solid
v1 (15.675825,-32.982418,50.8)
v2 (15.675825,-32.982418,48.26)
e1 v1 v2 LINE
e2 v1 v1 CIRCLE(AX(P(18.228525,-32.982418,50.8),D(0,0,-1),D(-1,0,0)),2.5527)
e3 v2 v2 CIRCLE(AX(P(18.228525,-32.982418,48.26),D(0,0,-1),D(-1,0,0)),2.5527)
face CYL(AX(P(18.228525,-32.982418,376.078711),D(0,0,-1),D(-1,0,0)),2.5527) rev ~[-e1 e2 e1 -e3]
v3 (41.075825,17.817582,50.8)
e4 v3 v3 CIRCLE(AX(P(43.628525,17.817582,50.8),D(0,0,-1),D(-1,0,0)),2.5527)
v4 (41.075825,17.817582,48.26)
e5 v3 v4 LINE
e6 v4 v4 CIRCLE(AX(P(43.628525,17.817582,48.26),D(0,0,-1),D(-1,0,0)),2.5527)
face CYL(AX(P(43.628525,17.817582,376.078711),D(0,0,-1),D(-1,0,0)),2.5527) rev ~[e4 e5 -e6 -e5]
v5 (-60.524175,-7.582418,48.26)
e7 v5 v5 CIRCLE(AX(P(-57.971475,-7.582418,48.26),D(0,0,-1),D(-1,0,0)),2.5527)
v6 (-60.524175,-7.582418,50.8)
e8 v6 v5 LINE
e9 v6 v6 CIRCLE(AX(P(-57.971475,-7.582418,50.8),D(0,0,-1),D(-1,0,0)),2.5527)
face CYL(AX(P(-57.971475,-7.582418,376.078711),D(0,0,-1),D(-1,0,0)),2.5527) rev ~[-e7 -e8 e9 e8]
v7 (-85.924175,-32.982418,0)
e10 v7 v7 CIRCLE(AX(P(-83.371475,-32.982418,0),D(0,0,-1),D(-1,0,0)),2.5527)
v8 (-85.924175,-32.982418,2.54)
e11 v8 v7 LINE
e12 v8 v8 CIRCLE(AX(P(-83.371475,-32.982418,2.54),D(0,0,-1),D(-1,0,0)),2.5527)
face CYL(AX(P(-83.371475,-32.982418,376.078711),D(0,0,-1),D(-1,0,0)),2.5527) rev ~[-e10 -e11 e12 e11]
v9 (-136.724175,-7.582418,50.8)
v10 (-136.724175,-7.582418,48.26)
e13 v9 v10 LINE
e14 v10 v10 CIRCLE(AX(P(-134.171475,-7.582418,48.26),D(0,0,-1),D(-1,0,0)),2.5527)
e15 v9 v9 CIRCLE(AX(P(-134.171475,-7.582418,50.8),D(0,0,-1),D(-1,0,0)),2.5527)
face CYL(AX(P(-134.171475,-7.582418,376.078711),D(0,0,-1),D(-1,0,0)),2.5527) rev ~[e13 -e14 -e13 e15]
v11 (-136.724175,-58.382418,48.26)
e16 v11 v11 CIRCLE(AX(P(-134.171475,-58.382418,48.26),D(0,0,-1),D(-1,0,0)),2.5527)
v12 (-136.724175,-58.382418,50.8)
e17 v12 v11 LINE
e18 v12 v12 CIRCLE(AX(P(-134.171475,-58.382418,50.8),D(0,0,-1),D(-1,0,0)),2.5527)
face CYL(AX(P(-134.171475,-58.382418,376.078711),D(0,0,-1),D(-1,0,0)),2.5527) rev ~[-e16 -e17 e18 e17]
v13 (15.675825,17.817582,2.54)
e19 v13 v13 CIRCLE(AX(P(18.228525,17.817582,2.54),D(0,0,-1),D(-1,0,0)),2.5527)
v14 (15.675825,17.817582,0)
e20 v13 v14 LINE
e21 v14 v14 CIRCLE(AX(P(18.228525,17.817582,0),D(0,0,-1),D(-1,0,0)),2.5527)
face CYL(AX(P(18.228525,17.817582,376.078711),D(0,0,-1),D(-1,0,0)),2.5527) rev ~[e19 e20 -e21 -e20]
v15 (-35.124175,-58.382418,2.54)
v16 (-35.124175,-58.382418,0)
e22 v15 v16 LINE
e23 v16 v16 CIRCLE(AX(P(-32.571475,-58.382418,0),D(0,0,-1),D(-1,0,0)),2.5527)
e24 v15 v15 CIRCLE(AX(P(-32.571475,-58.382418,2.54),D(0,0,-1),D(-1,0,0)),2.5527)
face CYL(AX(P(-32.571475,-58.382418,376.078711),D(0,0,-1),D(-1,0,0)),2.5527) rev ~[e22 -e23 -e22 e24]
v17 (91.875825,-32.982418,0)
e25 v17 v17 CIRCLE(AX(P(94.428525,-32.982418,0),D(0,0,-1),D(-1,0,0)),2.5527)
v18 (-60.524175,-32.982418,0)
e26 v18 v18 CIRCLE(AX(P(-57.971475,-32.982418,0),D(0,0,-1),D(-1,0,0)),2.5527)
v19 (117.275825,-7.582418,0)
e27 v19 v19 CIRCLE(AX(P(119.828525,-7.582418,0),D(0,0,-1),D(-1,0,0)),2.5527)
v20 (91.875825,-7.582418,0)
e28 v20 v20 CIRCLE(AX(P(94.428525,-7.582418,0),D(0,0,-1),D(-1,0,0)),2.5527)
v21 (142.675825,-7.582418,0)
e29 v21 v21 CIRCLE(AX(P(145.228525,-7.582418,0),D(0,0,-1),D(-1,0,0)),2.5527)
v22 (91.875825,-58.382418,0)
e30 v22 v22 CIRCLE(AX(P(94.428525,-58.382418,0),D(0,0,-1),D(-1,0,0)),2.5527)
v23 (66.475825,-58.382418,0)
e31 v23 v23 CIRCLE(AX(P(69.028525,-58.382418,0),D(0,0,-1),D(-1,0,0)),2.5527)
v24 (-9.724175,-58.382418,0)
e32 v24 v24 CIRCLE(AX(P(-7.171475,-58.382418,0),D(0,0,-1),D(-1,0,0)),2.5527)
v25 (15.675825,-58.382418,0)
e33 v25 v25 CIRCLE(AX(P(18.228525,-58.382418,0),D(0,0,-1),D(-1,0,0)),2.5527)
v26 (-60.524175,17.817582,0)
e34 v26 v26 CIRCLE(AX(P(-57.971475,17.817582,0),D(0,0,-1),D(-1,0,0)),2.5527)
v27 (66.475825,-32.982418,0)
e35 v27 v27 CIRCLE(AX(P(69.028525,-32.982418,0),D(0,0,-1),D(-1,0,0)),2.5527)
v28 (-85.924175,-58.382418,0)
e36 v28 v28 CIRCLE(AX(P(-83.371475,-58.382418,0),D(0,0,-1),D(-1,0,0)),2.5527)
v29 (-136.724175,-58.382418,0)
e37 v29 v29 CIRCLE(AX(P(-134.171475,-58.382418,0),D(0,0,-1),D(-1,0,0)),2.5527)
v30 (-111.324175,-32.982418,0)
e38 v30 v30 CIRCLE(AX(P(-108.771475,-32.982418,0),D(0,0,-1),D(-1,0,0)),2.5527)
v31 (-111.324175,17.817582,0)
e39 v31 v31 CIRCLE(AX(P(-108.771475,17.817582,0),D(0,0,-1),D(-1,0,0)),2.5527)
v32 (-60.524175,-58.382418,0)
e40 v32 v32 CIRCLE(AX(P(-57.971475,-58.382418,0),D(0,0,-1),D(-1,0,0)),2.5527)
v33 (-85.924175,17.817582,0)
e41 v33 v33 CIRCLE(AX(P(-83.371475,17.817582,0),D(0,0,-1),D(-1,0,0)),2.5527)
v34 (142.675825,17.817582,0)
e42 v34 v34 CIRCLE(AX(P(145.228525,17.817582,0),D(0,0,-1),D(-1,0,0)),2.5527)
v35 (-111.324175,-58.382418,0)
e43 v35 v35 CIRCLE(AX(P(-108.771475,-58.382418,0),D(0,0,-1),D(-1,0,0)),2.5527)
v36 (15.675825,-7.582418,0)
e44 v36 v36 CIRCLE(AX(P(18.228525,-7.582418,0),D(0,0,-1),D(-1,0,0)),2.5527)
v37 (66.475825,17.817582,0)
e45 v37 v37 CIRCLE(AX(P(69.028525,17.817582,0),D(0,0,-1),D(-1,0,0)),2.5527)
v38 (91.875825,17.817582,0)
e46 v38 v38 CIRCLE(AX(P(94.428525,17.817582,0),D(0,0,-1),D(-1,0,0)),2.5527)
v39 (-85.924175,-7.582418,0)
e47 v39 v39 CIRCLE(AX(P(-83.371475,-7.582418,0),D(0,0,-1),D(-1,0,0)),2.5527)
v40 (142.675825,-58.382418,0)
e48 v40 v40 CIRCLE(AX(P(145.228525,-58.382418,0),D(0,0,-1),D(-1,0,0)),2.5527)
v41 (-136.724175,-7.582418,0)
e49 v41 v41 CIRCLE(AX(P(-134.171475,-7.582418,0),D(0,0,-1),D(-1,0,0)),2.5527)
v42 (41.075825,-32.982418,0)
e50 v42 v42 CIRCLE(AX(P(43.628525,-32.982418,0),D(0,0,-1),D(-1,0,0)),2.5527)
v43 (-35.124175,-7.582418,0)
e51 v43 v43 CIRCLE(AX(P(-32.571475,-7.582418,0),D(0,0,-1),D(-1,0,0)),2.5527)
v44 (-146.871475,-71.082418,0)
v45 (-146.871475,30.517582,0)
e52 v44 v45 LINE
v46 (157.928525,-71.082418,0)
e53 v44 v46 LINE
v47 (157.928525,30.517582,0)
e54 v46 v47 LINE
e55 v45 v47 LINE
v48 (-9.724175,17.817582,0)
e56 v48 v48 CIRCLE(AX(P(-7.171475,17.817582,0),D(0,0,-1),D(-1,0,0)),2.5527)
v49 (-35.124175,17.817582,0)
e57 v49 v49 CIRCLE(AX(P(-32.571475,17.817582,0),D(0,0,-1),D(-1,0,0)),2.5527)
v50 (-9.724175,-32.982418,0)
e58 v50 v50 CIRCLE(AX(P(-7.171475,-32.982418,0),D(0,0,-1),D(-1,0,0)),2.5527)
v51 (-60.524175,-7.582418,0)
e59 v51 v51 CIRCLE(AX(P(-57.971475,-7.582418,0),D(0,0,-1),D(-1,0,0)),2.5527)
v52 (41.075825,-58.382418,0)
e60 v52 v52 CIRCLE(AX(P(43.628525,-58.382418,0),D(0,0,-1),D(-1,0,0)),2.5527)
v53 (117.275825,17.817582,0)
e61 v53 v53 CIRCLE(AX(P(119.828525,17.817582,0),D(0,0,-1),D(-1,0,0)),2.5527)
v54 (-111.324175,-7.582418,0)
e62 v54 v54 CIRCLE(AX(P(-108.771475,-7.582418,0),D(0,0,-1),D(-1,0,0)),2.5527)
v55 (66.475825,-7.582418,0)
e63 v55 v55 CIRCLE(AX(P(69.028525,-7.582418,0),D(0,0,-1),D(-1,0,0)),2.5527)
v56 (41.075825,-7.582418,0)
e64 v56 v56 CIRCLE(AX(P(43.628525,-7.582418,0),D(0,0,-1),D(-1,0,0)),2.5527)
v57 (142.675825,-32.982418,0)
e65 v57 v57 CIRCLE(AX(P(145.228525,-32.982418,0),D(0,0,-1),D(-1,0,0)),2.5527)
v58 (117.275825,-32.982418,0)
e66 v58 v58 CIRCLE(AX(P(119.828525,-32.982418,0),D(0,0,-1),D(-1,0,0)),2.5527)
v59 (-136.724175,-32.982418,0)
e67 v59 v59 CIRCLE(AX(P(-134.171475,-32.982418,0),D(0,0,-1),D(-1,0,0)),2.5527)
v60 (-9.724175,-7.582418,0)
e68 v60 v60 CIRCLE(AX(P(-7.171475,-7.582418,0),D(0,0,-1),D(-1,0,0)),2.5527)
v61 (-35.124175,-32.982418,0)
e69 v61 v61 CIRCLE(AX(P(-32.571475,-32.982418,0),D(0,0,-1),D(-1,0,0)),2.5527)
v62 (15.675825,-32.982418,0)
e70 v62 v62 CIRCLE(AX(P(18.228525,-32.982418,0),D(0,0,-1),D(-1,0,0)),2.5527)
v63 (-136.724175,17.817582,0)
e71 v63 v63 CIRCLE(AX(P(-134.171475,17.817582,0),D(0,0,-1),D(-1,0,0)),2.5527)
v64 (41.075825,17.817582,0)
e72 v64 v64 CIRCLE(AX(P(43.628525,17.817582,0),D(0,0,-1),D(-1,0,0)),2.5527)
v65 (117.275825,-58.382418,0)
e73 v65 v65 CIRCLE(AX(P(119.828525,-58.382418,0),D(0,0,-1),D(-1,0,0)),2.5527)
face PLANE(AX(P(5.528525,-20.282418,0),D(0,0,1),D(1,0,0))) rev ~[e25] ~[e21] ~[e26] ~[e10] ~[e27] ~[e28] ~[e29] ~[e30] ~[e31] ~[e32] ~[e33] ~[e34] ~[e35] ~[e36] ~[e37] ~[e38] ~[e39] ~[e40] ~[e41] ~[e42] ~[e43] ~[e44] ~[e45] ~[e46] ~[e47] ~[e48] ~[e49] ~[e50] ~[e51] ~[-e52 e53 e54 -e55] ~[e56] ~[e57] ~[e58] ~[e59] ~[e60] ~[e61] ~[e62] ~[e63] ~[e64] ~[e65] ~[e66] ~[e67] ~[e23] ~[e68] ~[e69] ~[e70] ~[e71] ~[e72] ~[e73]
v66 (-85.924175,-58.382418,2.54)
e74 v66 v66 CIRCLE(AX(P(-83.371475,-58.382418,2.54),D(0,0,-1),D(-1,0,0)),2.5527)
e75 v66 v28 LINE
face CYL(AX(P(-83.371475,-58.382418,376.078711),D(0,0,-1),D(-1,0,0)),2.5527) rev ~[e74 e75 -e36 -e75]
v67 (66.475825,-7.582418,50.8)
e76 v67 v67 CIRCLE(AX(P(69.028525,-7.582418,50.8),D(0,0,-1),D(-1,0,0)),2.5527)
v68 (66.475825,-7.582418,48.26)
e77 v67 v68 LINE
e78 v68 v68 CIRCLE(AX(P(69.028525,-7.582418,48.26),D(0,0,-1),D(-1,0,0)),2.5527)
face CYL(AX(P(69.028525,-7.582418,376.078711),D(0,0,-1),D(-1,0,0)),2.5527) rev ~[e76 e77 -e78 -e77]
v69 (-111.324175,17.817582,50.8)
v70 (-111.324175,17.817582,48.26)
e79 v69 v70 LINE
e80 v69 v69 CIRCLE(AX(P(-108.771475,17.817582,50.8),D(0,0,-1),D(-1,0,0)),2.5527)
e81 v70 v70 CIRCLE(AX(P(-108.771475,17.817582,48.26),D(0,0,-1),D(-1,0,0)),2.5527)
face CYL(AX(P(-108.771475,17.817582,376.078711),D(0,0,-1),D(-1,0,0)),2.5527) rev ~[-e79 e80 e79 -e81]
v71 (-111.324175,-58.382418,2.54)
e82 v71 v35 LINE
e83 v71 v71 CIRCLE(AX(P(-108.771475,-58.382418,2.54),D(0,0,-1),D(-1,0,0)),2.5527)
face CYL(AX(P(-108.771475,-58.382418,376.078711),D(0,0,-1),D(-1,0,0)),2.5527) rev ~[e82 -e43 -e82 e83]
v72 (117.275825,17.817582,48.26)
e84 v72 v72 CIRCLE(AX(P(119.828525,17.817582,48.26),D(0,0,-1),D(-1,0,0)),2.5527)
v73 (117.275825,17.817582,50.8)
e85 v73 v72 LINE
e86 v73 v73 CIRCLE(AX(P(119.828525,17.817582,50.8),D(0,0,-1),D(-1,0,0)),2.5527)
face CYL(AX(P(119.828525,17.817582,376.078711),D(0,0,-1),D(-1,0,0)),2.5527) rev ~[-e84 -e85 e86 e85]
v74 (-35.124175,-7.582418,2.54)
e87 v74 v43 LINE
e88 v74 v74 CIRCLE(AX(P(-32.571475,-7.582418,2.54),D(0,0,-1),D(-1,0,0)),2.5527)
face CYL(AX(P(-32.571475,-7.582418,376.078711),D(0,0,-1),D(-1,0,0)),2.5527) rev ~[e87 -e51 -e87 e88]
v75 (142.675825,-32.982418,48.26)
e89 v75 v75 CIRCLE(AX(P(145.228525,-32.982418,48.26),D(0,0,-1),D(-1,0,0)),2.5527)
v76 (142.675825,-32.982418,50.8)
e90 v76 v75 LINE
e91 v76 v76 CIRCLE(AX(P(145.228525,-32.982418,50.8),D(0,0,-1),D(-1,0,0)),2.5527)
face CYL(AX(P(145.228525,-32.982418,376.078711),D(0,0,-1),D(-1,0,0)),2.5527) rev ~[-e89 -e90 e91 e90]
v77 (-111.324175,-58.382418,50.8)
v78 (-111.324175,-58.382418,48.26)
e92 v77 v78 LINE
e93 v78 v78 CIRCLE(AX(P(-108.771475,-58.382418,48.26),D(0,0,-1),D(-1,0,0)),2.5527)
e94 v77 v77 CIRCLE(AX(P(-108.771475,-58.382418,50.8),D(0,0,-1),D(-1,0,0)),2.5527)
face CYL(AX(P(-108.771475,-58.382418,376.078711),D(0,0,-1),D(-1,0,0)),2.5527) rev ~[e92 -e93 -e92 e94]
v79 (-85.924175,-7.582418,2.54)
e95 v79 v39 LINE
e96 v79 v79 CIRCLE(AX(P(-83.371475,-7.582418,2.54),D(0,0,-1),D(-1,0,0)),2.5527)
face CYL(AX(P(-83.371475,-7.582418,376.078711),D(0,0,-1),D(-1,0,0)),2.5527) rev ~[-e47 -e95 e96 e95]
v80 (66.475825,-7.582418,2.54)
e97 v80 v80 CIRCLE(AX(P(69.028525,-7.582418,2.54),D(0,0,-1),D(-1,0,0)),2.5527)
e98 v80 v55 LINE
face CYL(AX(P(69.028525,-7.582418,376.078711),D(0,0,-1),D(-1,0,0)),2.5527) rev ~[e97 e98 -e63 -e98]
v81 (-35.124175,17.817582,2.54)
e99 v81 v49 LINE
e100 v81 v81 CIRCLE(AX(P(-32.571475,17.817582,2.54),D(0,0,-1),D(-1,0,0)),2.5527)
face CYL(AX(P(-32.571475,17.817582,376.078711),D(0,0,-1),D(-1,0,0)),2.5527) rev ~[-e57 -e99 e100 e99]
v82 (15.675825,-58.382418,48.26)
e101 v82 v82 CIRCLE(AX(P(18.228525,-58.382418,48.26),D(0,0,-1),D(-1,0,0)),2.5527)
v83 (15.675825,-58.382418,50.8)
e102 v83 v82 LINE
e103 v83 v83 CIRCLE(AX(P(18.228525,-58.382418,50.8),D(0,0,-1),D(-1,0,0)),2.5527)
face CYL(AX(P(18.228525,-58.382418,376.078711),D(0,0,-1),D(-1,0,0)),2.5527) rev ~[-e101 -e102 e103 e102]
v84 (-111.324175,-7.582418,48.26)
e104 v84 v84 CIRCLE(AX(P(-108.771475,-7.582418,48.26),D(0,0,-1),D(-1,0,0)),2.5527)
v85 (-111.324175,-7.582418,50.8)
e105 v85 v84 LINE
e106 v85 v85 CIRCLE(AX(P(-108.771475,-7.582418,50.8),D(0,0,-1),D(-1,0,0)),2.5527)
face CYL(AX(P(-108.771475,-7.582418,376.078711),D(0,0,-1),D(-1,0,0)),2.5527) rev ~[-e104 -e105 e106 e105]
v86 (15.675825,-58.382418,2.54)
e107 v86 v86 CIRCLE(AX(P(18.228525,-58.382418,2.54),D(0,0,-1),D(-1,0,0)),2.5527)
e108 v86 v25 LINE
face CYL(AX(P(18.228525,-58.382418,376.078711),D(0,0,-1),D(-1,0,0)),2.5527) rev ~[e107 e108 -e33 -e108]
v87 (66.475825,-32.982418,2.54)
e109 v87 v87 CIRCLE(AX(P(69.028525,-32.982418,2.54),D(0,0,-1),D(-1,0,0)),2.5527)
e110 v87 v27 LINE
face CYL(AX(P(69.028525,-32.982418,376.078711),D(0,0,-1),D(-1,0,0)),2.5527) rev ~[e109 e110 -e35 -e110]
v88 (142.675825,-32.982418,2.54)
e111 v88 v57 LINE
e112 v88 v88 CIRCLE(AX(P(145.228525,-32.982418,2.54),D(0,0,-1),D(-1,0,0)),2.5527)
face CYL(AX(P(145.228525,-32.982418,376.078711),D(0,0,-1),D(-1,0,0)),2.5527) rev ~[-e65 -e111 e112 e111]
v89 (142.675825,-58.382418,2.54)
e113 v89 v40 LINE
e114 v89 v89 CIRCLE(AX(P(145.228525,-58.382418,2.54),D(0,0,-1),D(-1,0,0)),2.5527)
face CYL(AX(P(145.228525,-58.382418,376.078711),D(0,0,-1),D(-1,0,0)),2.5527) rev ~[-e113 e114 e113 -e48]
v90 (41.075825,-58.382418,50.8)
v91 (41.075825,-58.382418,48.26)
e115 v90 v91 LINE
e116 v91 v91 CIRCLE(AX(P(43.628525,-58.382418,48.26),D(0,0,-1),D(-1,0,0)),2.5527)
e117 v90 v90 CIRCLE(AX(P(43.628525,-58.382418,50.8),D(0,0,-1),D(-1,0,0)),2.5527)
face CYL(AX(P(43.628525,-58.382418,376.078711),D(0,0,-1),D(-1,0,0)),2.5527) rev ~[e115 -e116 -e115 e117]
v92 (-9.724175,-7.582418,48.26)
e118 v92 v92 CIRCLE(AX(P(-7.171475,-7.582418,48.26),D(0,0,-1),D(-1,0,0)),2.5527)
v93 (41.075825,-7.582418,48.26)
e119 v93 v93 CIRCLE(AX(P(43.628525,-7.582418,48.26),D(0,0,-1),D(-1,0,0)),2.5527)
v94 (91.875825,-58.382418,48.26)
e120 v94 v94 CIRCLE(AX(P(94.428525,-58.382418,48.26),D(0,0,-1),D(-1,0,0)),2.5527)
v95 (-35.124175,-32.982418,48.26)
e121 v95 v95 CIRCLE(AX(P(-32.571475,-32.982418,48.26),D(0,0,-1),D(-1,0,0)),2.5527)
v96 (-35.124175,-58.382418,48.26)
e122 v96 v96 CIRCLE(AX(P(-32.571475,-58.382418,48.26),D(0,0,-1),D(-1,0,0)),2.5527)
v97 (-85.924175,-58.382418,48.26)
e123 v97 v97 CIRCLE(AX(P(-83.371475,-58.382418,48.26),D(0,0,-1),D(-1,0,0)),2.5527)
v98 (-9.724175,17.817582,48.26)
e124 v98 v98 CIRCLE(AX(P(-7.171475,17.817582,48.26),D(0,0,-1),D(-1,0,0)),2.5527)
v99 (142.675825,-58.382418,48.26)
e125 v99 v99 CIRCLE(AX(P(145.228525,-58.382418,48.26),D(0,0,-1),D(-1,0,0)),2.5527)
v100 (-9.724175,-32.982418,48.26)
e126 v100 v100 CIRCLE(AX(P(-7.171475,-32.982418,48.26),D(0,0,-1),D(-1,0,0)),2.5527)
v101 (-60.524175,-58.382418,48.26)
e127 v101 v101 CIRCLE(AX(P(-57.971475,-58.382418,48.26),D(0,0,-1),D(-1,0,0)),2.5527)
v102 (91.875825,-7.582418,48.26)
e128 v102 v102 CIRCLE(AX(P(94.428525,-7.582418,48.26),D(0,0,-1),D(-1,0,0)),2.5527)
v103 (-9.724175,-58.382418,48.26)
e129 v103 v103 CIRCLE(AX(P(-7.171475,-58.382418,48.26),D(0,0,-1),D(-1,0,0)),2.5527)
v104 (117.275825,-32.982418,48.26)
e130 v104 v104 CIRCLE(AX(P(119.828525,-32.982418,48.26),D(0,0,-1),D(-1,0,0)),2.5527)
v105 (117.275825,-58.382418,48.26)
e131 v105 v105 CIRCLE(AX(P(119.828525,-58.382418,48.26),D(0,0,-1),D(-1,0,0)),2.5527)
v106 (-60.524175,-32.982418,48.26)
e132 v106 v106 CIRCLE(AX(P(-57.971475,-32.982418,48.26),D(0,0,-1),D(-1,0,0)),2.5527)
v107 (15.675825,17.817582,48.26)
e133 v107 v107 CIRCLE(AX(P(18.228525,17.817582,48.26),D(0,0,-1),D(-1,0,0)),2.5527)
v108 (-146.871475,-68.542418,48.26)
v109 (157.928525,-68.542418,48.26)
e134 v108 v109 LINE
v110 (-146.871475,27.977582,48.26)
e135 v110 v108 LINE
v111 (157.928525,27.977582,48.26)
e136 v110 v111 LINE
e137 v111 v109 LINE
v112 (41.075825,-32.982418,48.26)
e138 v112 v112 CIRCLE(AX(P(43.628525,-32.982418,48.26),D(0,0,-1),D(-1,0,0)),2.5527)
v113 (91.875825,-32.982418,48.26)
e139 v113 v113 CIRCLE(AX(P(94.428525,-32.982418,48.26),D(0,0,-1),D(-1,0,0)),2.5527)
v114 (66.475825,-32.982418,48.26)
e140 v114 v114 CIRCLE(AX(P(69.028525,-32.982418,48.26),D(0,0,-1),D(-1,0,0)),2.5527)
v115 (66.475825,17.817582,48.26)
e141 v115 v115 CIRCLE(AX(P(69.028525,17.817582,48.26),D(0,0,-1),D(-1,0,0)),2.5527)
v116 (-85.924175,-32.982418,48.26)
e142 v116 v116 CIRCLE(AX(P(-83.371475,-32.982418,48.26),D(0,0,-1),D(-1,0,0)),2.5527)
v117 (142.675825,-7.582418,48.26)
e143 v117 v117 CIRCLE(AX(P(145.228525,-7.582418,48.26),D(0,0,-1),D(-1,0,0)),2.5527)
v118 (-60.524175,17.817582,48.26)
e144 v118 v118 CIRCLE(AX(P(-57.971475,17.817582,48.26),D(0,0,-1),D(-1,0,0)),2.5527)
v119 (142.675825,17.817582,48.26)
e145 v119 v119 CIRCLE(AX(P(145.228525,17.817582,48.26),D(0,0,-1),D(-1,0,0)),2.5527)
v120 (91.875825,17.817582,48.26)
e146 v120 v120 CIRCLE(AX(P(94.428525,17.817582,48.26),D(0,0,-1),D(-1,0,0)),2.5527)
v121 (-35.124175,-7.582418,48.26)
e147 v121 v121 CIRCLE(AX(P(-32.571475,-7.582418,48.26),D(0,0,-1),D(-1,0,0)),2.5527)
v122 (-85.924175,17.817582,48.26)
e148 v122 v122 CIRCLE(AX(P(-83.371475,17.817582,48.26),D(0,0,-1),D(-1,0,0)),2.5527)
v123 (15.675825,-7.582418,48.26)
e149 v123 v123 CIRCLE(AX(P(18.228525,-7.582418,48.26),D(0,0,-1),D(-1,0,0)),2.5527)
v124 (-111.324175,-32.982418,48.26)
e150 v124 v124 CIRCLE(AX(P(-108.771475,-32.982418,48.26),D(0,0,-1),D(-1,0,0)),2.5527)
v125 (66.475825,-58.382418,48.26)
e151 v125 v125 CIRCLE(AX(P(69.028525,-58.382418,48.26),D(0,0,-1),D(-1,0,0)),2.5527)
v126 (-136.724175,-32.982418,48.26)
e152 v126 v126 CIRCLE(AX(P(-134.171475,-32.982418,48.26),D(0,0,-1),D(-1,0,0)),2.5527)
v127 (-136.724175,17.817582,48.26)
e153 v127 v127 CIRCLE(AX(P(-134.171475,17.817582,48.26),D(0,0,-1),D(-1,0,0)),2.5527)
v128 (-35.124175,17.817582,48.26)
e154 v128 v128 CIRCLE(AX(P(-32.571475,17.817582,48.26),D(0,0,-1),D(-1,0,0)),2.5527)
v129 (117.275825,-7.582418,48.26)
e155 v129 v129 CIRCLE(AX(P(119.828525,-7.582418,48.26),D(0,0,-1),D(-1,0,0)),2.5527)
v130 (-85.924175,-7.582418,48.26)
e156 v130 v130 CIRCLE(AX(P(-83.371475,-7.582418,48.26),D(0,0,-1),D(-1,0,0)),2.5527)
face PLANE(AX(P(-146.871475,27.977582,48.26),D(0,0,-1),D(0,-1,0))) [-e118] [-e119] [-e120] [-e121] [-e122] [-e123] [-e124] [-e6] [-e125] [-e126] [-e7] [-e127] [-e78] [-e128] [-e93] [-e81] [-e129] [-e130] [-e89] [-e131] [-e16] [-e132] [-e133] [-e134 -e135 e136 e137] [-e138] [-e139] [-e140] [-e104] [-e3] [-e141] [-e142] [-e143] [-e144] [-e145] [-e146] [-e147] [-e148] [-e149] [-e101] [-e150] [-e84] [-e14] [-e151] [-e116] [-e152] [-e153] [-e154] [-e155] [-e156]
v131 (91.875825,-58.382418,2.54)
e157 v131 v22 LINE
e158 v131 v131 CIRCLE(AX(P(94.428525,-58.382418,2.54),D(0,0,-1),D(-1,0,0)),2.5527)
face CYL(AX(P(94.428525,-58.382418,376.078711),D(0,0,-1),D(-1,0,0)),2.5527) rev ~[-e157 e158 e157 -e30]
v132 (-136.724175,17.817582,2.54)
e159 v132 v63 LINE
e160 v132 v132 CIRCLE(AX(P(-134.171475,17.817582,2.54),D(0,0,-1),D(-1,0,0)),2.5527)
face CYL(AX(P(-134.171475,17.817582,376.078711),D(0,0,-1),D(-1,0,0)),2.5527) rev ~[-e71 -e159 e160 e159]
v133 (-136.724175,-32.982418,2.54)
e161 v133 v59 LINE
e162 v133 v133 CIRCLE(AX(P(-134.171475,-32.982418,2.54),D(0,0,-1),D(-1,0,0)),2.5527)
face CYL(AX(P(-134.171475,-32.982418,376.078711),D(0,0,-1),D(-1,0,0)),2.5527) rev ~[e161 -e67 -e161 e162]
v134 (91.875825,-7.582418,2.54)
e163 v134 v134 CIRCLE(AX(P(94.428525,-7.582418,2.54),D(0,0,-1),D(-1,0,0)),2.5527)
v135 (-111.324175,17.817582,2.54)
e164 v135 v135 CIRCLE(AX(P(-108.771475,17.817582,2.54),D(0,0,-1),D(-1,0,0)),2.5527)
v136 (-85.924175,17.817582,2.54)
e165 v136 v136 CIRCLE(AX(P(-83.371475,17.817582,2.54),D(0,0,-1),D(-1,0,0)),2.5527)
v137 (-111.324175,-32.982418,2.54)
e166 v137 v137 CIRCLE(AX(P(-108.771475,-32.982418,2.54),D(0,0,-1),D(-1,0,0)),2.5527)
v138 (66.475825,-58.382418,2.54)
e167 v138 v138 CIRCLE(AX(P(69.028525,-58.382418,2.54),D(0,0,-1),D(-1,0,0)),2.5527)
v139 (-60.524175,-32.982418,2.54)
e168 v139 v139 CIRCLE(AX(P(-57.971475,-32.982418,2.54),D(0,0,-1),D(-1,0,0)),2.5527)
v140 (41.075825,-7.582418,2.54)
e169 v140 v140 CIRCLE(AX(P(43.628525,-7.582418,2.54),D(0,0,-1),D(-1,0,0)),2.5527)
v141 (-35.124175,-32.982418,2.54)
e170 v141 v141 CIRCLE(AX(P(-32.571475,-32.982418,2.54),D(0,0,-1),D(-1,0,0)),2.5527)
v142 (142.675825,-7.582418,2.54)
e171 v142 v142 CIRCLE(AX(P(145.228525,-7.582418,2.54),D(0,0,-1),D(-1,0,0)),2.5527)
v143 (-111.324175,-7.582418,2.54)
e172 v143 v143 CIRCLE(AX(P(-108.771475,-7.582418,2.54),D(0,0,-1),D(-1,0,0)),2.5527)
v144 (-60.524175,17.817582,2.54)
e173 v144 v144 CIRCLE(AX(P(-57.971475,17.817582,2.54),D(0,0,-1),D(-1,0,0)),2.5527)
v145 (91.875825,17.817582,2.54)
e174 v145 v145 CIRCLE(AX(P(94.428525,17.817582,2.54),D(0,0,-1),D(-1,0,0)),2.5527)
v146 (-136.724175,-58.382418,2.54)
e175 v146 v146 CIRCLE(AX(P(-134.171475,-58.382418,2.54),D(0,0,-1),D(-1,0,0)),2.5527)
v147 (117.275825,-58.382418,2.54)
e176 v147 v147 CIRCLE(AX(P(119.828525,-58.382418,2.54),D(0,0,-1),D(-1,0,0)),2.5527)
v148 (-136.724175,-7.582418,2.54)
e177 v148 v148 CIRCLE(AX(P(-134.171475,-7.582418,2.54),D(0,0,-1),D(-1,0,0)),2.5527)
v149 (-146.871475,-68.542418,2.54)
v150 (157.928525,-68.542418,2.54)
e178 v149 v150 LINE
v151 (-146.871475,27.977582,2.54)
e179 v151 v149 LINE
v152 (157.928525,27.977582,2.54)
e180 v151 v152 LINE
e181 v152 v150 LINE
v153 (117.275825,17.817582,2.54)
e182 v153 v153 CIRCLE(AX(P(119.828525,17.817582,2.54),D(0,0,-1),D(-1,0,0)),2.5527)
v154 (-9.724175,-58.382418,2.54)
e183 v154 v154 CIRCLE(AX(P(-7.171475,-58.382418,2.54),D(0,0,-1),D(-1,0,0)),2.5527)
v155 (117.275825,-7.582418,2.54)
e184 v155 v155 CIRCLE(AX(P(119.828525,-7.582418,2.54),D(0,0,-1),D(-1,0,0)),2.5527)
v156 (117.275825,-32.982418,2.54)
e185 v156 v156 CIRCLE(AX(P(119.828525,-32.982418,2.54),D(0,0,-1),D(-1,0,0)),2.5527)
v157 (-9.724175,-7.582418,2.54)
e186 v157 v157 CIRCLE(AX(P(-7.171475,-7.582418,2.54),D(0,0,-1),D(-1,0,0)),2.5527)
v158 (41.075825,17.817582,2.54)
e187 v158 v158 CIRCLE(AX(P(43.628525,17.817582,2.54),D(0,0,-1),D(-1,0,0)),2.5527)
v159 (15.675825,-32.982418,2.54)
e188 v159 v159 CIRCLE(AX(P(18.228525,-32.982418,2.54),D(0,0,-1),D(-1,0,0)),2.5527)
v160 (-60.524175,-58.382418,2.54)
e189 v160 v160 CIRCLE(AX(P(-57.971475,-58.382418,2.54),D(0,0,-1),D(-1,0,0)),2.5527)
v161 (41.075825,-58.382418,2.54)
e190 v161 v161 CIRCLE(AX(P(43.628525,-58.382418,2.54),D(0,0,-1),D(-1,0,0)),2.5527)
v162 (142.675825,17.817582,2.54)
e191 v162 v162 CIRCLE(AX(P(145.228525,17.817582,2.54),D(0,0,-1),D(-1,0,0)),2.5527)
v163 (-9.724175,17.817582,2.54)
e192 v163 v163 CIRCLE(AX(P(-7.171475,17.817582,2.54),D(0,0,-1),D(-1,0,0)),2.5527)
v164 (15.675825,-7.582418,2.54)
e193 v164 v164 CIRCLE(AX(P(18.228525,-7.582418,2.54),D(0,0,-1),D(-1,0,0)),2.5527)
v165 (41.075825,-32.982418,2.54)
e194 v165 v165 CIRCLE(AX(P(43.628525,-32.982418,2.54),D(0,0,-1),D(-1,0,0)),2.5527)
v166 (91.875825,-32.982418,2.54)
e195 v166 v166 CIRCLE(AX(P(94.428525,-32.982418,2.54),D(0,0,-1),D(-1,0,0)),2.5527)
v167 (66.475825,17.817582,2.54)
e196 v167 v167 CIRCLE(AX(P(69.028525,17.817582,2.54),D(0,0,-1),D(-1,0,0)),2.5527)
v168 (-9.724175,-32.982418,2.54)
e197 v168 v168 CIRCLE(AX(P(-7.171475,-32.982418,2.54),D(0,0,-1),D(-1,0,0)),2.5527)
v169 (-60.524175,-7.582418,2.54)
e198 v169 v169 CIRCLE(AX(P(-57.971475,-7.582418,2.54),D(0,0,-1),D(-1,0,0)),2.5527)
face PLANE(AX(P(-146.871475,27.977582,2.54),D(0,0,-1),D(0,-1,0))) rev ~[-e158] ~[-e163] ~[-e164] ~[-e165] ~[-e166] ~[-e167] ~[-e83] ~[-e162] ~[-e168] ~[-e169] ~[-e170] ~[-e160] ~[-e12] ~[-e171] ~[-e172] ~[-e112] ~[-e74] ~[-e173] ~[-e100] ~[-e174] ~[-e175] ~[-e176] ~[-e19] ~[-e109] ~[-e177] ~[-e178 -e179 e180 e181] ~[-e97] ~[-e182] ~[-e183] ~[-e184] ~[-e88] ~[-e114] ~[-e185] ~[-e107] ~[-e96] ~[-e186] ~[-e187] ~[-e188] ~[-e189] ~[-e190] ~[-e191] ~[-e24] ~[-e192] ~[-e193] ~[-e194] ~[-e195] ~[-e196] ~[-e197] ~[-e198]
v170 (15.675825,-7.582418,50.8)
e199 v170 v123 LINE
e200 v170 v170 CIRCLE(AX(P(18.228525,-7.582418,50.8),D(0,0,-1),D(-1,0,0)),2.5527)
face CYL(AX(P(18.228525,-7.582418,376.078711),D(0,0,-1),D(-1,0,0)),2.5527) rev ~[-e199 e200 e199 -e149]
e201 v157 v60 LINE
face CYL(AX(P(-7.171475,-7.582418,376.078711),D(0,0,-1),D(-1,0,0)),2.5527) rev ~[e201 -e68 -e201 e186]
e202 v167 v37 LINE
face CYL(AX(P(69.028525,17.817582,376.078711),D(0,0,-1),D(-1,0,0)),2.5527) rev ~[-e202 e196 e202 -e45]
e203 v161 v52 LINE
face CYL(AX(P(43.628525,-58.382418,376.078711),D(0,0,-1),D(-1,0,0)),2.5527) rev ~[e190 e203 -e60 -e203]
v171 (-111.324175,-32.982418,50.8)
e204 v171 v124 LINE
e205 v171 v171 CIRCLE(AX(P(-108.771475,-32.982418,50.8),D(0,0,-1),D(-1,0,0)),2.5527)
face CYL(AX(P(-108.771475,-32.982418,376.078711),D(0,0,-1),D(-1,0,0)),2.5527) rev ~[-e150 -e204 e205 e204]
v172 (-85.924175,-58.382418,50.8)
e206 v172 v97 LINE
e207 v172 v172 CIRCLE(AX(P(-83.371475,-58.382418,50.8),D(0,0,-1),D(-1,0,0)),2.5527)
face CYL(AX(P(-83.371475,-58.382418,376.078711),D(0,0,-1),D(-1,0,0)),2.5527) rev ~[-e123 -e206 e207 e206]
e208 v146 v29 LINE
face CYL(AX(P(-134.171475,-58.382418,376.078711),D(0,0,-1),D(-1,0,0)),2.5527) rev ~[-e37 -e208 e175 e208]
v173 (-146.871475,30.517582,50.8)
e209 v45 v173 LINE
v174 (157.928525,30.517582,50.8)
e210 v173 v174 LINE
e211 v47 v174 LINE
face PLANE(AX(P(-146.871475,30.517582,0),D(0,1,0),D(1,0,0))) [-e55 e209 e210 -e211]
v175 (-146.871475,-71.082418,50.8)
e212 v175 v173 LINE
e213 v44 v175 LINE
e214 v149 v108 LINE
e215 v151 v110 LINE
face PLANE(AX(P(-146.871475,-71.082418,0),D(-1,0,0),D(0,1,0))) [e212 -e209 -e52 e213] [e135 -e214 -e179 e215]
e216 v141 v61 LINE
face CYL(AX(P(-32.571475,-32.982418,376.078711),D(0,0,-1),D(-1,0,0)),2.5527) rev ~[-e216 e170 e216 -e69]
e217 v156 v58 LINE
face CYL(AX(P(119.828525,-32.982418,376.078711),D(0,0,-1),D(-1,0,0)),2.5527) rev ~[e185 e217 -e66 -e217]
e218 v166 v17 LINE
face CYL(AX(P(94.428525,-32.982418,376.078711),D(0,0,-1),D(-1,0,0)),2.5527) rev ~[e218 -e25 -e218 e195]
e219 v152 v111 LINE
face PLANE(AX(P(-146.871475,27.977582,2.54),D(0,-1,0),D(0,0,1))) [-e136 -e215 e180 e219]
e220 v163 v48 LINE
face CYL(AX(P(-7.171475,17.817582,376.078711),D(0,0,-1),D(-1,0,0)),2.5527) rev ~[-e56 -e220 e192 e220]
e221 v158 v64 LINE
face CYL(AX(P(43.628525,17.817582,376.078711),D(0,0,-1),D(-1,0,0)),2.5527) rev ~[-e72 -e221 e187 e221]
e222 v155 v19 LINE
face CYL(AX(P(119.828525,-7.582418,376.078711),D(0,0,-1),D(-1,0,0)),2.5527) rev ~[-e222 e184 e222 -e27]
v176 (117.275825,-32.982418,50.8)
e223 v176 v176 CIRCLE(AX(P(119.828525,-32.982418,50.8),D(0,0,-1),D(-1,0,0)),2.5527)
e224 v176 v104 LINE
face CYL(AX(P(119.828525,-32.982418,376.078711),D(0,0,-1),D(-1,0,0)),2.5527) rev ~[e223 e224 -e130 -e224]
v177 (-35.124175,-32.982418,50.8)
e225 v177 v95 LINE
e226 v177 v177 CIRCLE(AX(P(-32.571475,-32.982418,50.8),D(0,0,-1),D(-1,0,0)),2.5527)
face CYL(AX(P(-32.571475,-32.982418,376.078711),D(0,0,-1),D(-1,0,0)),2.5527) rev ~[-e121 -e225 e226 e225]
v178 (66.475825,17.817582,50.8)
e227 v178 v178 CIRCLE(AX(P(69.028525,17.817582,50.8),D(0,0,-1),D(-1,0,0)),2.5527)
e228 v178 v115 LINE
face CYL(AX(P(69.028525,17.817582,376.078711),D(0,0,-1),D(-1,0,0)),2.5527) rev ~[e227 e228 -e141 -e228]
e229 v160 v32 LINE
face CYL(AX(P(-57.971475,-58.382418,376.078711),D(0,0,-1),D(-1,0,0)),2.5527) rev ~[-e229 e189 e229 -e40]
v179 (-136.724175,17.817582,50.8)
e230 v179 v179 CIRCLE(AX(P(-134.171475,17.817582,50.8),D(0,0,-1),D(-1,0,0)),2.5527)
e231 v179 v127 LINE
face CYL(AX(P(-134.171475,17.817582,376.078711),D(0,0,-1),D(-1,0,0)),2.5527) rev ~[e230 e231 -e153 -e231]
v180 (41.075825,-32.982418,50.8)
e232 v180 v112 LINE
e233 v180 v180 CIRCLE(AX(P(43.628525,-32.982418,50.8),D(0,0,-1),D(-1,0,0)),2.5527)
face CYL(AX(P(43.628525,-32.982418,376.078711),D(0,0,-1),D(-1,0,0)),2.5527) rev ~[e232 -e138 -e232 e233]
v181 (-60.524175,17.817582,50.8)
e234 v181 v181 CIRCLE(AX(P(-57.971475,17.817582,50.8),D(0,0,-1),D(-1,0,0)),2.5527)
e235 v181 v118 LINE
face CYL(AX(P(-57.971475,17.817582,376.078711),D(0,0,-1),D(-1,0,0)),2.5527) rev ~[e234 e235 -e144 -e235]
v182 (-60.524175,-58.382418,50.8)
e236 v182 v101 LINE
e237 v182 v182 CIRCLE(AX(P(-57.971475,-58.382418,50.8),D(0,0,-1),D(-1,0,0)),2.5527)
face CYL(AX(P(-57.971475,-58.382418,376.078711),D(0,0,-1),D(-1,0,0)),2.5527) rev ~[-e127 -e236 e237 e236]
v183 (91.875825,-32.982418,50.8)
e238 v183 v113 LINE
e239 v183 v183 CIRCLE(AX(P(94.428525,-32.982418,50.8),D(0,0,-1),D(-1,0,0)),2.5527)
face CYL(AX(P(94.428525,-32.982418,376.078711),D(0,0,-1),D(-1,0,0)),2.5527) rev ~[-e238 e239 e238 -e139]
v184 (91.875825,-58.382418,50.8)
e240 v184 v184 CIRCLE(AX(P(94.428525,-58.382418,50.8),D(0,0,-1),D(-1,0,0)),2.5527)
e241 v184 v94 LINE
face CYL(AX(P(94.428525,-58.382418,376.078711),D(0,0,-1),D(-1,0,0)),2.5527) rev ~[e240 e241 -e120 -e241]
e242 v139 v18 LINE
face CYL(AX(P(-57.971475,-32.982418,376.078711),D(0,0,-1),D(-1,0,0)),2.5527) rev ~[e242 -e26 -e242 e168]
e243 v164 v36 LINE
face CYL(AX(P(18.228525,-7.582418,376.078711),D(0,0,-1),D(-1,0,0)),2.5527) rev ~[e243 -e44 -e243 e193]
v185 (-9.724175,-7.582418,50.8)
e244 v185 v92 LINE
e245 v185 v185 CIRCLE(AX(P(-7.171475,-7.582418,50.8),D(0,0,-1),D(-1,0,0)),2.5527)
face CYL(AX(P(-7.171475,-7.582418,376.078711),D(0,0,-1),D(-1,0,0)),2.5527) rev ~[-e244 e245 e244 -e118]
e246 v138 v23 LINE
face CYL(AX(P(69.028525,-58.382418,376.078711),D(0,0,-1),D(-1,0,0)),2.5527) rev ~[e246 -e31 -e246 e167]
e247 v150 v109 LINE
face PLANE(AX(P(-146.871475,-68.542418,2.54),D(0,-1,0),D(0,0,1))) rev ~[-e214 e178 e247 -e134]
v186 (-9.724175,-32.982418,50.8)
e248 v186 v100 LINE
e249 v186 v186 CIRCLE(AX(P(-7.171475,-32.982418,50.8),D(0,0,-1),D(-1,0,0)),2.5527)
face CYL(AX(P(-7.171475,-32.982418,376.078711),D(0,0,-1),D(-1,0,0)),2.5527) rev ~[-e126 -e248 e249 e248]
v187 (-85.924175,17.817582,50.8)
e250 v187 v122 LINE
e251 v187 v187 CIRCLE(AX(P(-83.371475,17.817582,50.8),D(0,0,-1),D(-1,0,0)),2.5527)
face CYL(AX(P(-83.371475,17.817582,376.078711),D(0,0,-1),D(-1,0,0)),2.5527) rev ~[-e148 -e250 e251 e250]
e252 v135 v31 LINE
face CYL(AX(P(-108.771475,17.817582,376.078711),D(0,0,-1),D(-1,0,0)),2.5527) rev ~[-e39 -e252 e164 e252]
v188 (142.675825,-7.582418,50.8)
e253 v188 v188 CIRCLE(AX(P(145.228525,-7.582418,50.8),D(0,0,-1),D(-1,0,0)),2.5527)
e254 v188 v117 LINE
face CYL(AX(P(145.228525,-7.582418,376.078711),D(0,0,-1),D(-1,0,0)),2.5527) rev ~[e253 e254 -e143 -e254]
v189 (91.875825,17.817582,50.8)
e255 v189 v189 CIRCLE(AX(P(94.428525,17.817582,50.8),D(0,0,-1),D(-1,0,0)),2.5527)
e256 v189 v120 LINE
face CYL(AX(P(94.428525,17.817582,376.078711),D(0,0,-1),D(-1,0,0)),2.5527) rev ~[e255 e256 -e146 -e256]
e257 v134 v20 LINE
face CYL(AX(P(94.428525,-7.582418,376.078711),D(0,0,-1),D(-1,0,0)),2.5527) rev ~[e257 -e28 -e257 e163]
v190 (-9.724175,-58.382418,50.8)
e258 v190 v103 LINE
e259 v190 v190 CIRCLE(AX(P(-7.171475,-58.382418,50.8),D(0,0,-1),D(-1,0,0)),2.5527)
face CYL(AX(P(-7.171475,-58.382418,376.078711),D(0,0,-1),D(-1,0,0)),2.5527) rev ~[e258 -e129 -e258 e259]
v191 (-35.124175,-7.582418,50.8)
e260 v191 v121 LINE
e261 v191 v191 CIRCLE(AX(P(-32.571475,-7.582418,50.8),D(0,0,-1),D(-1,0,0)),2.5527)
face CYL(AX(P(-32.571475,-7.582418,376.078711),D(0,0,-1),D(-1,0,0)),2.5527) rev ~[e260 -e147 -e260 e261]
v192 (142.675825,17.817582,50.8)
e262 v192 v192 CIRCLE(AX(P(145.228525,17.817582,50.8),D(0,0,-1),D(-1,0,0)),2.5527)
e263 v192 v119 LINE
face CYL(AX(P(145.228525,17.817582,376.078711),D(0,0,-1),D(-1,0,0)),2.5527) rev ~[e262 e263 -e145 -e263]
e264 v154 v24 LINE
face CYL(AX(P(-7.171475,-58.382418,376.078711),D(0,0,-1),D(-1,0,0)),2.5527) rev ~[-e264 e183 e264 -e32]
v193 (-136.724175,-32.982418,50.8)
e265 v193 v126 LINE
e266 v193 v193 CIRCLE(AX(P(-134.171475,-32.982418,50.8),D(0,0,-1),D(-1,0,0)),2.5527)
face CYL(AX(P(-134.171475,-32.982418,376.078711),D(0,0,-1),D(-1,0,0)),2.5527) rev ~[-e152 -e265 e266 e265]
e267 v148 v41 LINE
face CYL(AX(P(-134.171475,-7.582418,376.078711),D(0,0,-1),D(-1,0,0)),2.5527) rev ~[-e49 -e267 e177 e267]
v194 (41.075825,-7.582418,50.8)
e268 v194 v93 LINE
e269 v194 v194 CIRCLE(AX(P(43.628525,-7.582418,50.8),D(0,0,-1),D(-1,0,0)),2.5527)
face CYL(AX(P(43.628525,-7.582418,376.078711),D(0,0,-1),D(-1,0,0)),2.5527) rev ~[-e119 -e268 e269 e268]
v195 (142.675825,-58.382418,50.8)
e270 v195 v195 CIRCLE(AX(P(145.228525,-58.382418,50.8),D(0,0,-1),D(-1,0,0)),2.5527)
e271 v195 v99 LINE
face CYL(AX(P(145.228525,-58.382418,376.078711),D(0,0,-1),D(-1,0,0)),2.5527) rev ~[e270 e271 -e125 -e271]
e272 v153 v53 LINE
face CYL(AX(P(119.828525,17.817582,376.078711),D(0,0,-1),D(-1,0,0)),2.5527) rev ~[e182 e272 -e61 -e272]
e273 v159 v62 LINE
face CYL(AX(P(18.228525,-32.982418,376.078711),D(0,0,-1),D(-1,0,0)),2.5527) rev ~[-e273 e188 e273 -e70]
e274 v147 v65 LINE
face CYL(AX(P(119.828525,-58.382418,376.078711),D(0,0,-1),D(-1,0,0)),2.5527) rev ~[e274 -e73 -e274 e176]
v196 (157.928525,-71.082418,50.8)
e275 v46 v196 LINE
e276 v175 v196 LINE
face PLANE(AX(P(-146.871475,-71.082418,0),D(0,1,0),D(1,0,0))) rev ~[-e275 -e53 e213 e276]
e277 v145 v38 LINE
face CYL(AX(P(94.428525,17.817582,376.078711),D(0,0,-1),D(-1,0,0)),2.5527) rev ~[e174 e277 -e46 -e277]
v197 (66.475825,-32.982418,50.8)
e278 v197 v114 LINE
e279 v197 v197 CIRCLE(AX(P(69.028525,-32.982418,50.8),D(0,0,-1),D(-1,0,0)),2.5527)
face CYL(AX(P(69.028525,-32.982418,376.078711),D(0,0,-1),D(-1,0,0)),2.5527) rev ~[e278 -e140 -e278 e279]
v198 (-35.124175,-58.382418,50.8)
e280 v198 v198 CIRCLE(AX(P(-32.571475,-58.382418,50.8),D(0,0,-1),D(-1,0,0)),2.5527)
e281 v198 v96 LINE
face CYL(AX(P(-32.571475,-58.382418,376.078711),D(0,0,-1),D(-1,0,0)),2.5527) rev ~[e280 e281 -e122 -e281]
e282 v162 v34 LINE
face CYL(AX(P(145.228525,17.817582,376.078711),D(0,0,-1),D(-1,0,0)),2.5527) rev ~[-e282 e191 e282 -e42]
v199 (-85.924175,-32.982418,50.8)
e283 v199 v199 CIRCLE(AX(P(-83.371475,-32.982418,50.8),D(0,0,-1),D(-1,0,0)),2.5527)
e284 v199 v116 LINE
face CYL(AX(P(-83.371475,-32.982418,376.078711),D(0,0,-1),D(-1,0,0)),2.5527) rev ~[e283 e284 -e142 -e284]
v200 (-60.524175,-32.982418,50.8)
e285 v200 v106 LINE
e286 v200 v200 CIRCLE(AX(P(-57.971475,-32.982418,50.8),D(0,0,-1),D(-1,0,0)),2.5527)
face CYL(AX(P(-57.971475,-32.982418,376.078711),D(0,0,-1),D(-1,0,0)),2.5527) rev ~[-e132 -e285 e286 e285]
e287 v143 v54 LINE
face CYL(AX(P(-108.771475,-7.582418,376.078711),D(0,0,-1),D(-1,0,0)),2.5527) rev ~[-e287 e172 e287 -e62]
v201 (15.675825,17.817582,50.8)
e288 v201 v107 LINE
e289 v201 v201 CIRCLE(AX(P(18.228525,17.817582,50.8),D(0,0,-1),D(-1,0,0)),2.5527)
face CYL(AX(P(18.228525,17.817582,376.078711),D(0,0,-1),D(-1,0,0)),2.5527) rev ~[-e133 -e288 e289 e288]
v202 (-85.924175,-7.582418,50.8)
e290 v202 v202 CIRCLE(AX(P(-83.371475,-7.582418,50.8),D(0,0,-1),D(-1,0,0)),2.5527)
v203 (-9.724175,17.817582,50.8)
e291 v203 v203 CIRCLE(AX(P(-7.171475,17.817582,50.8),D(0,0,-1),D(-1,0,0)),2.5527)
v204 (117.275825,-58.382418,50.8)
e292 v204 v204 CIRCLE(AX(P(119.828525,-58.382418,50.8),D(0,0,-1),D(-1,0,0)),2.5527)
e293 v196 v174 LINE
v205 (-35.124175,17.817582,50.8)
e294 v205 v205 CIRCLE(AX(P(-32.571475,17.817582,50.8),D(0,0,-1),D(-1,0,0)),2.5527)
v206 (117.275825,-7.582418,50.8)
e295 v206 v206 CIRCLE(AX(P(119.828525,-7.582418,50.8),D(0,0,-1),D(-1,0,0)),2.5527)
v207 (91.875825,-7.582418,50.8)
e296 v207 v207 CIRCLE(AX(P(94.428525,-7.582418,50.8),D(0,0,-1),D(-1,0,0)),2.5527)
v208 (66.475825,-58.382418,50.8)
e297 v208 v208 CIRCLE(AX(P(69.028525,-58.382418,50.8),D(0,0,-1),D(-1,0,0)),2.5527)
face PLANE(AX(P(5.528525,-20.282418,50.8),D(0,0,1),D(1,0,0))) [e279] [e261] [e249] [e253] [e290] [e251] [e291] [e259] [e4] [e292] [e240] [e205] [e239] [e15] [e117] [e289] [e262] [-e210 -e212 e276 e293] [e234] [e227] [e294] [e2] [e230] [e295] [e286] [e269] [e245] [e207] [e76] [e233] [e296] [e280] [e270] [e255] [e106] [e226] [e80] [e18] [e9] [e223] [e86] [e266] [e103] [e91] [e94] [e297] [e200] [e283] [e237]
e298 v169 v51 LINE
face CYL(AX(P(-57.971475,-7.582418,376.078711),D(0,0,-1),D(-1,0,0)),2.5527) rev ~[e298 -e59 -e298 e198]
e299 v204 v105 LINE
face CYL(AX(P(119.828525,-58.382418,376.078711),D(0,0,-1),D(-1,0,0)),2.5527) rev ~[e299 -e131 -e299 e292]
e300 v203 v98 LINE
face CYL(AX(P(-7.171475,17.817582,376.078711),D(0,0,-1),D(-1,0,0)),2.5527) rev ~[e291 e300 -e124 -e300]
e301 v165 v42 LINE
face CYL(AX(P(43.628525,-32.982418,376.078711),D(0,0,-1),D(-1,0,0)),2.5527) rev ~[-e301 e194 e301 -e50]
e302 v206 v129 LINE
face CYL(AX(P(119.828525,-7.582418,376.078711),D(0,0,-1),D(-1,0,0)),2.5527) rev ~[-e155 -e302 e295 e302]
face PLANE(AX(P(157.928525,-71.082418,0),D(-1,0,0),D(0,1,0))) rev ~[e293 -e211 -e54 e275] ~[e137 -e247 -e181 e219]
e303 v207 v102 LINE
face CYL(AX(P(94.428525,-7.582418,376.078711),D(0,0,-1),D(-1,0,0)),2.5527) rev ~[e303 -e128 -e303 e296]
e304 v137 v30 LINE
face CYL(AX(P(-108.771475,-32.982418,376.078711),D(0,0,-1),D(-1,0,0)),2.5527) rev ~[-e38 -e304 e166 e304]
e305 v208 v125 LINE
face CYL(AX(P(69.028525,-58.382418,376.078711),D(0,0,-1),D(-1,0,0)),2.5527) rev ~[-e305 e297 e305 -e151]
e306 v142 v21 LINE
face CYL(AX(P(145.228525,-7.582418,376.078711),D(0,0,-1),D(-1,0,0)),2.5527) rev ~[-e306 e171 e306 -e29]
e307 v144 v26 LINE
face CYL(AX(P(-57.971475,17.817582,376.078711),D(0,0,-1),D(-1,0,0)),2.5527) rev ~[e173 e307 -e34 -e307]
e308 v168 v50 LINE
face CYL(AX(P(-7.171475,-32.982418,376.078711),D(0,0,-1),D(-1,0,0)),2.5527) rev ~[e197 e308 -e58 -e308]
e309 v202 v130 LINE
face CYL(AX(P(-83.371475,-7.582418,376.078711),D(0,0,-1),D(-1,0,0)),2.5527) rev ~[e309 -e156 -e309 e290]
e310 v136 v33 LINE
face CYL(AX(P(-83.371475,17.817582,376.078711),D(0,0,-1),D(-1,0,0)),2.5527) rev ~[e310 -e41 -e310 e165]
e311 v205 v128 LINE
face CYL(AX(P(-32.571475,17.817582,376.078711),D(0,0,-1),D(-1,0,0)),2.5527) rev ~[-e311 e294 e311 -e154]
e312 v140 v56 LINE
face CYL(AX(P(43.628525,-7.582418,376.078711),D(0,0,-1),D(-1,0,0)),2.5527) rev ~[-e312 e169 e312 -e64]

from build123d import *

# Parameters (mm, degrees)
F0_W     = 304.8
F0_H     = 101.6
F1_DEPTH = 50.8
F2_W     = 96.52
F2_H     = 45.72
F3_DEPTH = 304.801
F5_D     = 5.1054


with BuildPart() as f1:
    # F0 (on Top) → F1 (new body)
    with BuildSketch(Plane.XY):
        with Locations((5.528525, -20.282418)):
            Rectangle(F0_W, F0_H)
    extrude(amount=F1_DEPTH)

    # F2 (on face) → F3 (cut, through all)
    with BuildSketch(Plane(origin=(-146.871475, 0, 0), x_dir=(0, -1, 0), z_dir=(-1, 0, 0))):
        with Locations((20.282418, 25.4)):
            Rectangle(F2_W, F2_H)
    extrude(amount=-F3_DEPTH, mode=Mode.SUBTRACT)

    # F5 (through all)
    with Locations(Plane.XY.offset(50.8)):
        with Locations((145.228525, -58.382418), (43.628525, -58.382418), (-57.971475, -58.382418), (94.428525, -32.982418), (-7.171475, -32.982418), (119.828525, -7.582418), (69.028525, 17.817582), (18.228525, -7.582418), (-32.571475, 17.817582), (69.028525, -58.382418), (-32.571475, -58.382418), (145.228525, 17.817582), (43.628525, 17.817582), (-57.971475, 17.817582), (94.428525, -58.382418), (-7.171475, -58.382418), (119.828525, -32.982418), (69.028525, -7.582418), (18.228525, -32.982418), (-32.571475, -7.582418), (145.228525, -7.582418), (43.628525, -7.582418), (-57.971475, -7.582418), (119.828525, 17.817582), (-83.371475, -7.582418), (18.228525, 17.817582), (-83.371475, -32.982418), (-83.371475, -58.382418), (94.428525, 17.817582), (-7.171475, 17.817582), (-134.171475, 17.817582), (119.828525, -58.382418), (18.228525, -58.382418), (69.028525, -32.982418), (-32.571475, -32.982418), (-134.171475, -7.582418), (-134.171475, -32.982418), (145.228525, -32.982418), (43.628525, -32.982418), (-134.171475, -58.382418), (-57.971475, -32.982418), (-108.771475, 17.817582), (-108.771475, -7.582418), (-108.771475, -32.982418), (-108.771475, -58.382418), (-83.371475, 17.817582), (94.428525, -7.582418), (-7.171475, -7.582418)):
            Hole(F5_D / 2)


solid = f1.part
